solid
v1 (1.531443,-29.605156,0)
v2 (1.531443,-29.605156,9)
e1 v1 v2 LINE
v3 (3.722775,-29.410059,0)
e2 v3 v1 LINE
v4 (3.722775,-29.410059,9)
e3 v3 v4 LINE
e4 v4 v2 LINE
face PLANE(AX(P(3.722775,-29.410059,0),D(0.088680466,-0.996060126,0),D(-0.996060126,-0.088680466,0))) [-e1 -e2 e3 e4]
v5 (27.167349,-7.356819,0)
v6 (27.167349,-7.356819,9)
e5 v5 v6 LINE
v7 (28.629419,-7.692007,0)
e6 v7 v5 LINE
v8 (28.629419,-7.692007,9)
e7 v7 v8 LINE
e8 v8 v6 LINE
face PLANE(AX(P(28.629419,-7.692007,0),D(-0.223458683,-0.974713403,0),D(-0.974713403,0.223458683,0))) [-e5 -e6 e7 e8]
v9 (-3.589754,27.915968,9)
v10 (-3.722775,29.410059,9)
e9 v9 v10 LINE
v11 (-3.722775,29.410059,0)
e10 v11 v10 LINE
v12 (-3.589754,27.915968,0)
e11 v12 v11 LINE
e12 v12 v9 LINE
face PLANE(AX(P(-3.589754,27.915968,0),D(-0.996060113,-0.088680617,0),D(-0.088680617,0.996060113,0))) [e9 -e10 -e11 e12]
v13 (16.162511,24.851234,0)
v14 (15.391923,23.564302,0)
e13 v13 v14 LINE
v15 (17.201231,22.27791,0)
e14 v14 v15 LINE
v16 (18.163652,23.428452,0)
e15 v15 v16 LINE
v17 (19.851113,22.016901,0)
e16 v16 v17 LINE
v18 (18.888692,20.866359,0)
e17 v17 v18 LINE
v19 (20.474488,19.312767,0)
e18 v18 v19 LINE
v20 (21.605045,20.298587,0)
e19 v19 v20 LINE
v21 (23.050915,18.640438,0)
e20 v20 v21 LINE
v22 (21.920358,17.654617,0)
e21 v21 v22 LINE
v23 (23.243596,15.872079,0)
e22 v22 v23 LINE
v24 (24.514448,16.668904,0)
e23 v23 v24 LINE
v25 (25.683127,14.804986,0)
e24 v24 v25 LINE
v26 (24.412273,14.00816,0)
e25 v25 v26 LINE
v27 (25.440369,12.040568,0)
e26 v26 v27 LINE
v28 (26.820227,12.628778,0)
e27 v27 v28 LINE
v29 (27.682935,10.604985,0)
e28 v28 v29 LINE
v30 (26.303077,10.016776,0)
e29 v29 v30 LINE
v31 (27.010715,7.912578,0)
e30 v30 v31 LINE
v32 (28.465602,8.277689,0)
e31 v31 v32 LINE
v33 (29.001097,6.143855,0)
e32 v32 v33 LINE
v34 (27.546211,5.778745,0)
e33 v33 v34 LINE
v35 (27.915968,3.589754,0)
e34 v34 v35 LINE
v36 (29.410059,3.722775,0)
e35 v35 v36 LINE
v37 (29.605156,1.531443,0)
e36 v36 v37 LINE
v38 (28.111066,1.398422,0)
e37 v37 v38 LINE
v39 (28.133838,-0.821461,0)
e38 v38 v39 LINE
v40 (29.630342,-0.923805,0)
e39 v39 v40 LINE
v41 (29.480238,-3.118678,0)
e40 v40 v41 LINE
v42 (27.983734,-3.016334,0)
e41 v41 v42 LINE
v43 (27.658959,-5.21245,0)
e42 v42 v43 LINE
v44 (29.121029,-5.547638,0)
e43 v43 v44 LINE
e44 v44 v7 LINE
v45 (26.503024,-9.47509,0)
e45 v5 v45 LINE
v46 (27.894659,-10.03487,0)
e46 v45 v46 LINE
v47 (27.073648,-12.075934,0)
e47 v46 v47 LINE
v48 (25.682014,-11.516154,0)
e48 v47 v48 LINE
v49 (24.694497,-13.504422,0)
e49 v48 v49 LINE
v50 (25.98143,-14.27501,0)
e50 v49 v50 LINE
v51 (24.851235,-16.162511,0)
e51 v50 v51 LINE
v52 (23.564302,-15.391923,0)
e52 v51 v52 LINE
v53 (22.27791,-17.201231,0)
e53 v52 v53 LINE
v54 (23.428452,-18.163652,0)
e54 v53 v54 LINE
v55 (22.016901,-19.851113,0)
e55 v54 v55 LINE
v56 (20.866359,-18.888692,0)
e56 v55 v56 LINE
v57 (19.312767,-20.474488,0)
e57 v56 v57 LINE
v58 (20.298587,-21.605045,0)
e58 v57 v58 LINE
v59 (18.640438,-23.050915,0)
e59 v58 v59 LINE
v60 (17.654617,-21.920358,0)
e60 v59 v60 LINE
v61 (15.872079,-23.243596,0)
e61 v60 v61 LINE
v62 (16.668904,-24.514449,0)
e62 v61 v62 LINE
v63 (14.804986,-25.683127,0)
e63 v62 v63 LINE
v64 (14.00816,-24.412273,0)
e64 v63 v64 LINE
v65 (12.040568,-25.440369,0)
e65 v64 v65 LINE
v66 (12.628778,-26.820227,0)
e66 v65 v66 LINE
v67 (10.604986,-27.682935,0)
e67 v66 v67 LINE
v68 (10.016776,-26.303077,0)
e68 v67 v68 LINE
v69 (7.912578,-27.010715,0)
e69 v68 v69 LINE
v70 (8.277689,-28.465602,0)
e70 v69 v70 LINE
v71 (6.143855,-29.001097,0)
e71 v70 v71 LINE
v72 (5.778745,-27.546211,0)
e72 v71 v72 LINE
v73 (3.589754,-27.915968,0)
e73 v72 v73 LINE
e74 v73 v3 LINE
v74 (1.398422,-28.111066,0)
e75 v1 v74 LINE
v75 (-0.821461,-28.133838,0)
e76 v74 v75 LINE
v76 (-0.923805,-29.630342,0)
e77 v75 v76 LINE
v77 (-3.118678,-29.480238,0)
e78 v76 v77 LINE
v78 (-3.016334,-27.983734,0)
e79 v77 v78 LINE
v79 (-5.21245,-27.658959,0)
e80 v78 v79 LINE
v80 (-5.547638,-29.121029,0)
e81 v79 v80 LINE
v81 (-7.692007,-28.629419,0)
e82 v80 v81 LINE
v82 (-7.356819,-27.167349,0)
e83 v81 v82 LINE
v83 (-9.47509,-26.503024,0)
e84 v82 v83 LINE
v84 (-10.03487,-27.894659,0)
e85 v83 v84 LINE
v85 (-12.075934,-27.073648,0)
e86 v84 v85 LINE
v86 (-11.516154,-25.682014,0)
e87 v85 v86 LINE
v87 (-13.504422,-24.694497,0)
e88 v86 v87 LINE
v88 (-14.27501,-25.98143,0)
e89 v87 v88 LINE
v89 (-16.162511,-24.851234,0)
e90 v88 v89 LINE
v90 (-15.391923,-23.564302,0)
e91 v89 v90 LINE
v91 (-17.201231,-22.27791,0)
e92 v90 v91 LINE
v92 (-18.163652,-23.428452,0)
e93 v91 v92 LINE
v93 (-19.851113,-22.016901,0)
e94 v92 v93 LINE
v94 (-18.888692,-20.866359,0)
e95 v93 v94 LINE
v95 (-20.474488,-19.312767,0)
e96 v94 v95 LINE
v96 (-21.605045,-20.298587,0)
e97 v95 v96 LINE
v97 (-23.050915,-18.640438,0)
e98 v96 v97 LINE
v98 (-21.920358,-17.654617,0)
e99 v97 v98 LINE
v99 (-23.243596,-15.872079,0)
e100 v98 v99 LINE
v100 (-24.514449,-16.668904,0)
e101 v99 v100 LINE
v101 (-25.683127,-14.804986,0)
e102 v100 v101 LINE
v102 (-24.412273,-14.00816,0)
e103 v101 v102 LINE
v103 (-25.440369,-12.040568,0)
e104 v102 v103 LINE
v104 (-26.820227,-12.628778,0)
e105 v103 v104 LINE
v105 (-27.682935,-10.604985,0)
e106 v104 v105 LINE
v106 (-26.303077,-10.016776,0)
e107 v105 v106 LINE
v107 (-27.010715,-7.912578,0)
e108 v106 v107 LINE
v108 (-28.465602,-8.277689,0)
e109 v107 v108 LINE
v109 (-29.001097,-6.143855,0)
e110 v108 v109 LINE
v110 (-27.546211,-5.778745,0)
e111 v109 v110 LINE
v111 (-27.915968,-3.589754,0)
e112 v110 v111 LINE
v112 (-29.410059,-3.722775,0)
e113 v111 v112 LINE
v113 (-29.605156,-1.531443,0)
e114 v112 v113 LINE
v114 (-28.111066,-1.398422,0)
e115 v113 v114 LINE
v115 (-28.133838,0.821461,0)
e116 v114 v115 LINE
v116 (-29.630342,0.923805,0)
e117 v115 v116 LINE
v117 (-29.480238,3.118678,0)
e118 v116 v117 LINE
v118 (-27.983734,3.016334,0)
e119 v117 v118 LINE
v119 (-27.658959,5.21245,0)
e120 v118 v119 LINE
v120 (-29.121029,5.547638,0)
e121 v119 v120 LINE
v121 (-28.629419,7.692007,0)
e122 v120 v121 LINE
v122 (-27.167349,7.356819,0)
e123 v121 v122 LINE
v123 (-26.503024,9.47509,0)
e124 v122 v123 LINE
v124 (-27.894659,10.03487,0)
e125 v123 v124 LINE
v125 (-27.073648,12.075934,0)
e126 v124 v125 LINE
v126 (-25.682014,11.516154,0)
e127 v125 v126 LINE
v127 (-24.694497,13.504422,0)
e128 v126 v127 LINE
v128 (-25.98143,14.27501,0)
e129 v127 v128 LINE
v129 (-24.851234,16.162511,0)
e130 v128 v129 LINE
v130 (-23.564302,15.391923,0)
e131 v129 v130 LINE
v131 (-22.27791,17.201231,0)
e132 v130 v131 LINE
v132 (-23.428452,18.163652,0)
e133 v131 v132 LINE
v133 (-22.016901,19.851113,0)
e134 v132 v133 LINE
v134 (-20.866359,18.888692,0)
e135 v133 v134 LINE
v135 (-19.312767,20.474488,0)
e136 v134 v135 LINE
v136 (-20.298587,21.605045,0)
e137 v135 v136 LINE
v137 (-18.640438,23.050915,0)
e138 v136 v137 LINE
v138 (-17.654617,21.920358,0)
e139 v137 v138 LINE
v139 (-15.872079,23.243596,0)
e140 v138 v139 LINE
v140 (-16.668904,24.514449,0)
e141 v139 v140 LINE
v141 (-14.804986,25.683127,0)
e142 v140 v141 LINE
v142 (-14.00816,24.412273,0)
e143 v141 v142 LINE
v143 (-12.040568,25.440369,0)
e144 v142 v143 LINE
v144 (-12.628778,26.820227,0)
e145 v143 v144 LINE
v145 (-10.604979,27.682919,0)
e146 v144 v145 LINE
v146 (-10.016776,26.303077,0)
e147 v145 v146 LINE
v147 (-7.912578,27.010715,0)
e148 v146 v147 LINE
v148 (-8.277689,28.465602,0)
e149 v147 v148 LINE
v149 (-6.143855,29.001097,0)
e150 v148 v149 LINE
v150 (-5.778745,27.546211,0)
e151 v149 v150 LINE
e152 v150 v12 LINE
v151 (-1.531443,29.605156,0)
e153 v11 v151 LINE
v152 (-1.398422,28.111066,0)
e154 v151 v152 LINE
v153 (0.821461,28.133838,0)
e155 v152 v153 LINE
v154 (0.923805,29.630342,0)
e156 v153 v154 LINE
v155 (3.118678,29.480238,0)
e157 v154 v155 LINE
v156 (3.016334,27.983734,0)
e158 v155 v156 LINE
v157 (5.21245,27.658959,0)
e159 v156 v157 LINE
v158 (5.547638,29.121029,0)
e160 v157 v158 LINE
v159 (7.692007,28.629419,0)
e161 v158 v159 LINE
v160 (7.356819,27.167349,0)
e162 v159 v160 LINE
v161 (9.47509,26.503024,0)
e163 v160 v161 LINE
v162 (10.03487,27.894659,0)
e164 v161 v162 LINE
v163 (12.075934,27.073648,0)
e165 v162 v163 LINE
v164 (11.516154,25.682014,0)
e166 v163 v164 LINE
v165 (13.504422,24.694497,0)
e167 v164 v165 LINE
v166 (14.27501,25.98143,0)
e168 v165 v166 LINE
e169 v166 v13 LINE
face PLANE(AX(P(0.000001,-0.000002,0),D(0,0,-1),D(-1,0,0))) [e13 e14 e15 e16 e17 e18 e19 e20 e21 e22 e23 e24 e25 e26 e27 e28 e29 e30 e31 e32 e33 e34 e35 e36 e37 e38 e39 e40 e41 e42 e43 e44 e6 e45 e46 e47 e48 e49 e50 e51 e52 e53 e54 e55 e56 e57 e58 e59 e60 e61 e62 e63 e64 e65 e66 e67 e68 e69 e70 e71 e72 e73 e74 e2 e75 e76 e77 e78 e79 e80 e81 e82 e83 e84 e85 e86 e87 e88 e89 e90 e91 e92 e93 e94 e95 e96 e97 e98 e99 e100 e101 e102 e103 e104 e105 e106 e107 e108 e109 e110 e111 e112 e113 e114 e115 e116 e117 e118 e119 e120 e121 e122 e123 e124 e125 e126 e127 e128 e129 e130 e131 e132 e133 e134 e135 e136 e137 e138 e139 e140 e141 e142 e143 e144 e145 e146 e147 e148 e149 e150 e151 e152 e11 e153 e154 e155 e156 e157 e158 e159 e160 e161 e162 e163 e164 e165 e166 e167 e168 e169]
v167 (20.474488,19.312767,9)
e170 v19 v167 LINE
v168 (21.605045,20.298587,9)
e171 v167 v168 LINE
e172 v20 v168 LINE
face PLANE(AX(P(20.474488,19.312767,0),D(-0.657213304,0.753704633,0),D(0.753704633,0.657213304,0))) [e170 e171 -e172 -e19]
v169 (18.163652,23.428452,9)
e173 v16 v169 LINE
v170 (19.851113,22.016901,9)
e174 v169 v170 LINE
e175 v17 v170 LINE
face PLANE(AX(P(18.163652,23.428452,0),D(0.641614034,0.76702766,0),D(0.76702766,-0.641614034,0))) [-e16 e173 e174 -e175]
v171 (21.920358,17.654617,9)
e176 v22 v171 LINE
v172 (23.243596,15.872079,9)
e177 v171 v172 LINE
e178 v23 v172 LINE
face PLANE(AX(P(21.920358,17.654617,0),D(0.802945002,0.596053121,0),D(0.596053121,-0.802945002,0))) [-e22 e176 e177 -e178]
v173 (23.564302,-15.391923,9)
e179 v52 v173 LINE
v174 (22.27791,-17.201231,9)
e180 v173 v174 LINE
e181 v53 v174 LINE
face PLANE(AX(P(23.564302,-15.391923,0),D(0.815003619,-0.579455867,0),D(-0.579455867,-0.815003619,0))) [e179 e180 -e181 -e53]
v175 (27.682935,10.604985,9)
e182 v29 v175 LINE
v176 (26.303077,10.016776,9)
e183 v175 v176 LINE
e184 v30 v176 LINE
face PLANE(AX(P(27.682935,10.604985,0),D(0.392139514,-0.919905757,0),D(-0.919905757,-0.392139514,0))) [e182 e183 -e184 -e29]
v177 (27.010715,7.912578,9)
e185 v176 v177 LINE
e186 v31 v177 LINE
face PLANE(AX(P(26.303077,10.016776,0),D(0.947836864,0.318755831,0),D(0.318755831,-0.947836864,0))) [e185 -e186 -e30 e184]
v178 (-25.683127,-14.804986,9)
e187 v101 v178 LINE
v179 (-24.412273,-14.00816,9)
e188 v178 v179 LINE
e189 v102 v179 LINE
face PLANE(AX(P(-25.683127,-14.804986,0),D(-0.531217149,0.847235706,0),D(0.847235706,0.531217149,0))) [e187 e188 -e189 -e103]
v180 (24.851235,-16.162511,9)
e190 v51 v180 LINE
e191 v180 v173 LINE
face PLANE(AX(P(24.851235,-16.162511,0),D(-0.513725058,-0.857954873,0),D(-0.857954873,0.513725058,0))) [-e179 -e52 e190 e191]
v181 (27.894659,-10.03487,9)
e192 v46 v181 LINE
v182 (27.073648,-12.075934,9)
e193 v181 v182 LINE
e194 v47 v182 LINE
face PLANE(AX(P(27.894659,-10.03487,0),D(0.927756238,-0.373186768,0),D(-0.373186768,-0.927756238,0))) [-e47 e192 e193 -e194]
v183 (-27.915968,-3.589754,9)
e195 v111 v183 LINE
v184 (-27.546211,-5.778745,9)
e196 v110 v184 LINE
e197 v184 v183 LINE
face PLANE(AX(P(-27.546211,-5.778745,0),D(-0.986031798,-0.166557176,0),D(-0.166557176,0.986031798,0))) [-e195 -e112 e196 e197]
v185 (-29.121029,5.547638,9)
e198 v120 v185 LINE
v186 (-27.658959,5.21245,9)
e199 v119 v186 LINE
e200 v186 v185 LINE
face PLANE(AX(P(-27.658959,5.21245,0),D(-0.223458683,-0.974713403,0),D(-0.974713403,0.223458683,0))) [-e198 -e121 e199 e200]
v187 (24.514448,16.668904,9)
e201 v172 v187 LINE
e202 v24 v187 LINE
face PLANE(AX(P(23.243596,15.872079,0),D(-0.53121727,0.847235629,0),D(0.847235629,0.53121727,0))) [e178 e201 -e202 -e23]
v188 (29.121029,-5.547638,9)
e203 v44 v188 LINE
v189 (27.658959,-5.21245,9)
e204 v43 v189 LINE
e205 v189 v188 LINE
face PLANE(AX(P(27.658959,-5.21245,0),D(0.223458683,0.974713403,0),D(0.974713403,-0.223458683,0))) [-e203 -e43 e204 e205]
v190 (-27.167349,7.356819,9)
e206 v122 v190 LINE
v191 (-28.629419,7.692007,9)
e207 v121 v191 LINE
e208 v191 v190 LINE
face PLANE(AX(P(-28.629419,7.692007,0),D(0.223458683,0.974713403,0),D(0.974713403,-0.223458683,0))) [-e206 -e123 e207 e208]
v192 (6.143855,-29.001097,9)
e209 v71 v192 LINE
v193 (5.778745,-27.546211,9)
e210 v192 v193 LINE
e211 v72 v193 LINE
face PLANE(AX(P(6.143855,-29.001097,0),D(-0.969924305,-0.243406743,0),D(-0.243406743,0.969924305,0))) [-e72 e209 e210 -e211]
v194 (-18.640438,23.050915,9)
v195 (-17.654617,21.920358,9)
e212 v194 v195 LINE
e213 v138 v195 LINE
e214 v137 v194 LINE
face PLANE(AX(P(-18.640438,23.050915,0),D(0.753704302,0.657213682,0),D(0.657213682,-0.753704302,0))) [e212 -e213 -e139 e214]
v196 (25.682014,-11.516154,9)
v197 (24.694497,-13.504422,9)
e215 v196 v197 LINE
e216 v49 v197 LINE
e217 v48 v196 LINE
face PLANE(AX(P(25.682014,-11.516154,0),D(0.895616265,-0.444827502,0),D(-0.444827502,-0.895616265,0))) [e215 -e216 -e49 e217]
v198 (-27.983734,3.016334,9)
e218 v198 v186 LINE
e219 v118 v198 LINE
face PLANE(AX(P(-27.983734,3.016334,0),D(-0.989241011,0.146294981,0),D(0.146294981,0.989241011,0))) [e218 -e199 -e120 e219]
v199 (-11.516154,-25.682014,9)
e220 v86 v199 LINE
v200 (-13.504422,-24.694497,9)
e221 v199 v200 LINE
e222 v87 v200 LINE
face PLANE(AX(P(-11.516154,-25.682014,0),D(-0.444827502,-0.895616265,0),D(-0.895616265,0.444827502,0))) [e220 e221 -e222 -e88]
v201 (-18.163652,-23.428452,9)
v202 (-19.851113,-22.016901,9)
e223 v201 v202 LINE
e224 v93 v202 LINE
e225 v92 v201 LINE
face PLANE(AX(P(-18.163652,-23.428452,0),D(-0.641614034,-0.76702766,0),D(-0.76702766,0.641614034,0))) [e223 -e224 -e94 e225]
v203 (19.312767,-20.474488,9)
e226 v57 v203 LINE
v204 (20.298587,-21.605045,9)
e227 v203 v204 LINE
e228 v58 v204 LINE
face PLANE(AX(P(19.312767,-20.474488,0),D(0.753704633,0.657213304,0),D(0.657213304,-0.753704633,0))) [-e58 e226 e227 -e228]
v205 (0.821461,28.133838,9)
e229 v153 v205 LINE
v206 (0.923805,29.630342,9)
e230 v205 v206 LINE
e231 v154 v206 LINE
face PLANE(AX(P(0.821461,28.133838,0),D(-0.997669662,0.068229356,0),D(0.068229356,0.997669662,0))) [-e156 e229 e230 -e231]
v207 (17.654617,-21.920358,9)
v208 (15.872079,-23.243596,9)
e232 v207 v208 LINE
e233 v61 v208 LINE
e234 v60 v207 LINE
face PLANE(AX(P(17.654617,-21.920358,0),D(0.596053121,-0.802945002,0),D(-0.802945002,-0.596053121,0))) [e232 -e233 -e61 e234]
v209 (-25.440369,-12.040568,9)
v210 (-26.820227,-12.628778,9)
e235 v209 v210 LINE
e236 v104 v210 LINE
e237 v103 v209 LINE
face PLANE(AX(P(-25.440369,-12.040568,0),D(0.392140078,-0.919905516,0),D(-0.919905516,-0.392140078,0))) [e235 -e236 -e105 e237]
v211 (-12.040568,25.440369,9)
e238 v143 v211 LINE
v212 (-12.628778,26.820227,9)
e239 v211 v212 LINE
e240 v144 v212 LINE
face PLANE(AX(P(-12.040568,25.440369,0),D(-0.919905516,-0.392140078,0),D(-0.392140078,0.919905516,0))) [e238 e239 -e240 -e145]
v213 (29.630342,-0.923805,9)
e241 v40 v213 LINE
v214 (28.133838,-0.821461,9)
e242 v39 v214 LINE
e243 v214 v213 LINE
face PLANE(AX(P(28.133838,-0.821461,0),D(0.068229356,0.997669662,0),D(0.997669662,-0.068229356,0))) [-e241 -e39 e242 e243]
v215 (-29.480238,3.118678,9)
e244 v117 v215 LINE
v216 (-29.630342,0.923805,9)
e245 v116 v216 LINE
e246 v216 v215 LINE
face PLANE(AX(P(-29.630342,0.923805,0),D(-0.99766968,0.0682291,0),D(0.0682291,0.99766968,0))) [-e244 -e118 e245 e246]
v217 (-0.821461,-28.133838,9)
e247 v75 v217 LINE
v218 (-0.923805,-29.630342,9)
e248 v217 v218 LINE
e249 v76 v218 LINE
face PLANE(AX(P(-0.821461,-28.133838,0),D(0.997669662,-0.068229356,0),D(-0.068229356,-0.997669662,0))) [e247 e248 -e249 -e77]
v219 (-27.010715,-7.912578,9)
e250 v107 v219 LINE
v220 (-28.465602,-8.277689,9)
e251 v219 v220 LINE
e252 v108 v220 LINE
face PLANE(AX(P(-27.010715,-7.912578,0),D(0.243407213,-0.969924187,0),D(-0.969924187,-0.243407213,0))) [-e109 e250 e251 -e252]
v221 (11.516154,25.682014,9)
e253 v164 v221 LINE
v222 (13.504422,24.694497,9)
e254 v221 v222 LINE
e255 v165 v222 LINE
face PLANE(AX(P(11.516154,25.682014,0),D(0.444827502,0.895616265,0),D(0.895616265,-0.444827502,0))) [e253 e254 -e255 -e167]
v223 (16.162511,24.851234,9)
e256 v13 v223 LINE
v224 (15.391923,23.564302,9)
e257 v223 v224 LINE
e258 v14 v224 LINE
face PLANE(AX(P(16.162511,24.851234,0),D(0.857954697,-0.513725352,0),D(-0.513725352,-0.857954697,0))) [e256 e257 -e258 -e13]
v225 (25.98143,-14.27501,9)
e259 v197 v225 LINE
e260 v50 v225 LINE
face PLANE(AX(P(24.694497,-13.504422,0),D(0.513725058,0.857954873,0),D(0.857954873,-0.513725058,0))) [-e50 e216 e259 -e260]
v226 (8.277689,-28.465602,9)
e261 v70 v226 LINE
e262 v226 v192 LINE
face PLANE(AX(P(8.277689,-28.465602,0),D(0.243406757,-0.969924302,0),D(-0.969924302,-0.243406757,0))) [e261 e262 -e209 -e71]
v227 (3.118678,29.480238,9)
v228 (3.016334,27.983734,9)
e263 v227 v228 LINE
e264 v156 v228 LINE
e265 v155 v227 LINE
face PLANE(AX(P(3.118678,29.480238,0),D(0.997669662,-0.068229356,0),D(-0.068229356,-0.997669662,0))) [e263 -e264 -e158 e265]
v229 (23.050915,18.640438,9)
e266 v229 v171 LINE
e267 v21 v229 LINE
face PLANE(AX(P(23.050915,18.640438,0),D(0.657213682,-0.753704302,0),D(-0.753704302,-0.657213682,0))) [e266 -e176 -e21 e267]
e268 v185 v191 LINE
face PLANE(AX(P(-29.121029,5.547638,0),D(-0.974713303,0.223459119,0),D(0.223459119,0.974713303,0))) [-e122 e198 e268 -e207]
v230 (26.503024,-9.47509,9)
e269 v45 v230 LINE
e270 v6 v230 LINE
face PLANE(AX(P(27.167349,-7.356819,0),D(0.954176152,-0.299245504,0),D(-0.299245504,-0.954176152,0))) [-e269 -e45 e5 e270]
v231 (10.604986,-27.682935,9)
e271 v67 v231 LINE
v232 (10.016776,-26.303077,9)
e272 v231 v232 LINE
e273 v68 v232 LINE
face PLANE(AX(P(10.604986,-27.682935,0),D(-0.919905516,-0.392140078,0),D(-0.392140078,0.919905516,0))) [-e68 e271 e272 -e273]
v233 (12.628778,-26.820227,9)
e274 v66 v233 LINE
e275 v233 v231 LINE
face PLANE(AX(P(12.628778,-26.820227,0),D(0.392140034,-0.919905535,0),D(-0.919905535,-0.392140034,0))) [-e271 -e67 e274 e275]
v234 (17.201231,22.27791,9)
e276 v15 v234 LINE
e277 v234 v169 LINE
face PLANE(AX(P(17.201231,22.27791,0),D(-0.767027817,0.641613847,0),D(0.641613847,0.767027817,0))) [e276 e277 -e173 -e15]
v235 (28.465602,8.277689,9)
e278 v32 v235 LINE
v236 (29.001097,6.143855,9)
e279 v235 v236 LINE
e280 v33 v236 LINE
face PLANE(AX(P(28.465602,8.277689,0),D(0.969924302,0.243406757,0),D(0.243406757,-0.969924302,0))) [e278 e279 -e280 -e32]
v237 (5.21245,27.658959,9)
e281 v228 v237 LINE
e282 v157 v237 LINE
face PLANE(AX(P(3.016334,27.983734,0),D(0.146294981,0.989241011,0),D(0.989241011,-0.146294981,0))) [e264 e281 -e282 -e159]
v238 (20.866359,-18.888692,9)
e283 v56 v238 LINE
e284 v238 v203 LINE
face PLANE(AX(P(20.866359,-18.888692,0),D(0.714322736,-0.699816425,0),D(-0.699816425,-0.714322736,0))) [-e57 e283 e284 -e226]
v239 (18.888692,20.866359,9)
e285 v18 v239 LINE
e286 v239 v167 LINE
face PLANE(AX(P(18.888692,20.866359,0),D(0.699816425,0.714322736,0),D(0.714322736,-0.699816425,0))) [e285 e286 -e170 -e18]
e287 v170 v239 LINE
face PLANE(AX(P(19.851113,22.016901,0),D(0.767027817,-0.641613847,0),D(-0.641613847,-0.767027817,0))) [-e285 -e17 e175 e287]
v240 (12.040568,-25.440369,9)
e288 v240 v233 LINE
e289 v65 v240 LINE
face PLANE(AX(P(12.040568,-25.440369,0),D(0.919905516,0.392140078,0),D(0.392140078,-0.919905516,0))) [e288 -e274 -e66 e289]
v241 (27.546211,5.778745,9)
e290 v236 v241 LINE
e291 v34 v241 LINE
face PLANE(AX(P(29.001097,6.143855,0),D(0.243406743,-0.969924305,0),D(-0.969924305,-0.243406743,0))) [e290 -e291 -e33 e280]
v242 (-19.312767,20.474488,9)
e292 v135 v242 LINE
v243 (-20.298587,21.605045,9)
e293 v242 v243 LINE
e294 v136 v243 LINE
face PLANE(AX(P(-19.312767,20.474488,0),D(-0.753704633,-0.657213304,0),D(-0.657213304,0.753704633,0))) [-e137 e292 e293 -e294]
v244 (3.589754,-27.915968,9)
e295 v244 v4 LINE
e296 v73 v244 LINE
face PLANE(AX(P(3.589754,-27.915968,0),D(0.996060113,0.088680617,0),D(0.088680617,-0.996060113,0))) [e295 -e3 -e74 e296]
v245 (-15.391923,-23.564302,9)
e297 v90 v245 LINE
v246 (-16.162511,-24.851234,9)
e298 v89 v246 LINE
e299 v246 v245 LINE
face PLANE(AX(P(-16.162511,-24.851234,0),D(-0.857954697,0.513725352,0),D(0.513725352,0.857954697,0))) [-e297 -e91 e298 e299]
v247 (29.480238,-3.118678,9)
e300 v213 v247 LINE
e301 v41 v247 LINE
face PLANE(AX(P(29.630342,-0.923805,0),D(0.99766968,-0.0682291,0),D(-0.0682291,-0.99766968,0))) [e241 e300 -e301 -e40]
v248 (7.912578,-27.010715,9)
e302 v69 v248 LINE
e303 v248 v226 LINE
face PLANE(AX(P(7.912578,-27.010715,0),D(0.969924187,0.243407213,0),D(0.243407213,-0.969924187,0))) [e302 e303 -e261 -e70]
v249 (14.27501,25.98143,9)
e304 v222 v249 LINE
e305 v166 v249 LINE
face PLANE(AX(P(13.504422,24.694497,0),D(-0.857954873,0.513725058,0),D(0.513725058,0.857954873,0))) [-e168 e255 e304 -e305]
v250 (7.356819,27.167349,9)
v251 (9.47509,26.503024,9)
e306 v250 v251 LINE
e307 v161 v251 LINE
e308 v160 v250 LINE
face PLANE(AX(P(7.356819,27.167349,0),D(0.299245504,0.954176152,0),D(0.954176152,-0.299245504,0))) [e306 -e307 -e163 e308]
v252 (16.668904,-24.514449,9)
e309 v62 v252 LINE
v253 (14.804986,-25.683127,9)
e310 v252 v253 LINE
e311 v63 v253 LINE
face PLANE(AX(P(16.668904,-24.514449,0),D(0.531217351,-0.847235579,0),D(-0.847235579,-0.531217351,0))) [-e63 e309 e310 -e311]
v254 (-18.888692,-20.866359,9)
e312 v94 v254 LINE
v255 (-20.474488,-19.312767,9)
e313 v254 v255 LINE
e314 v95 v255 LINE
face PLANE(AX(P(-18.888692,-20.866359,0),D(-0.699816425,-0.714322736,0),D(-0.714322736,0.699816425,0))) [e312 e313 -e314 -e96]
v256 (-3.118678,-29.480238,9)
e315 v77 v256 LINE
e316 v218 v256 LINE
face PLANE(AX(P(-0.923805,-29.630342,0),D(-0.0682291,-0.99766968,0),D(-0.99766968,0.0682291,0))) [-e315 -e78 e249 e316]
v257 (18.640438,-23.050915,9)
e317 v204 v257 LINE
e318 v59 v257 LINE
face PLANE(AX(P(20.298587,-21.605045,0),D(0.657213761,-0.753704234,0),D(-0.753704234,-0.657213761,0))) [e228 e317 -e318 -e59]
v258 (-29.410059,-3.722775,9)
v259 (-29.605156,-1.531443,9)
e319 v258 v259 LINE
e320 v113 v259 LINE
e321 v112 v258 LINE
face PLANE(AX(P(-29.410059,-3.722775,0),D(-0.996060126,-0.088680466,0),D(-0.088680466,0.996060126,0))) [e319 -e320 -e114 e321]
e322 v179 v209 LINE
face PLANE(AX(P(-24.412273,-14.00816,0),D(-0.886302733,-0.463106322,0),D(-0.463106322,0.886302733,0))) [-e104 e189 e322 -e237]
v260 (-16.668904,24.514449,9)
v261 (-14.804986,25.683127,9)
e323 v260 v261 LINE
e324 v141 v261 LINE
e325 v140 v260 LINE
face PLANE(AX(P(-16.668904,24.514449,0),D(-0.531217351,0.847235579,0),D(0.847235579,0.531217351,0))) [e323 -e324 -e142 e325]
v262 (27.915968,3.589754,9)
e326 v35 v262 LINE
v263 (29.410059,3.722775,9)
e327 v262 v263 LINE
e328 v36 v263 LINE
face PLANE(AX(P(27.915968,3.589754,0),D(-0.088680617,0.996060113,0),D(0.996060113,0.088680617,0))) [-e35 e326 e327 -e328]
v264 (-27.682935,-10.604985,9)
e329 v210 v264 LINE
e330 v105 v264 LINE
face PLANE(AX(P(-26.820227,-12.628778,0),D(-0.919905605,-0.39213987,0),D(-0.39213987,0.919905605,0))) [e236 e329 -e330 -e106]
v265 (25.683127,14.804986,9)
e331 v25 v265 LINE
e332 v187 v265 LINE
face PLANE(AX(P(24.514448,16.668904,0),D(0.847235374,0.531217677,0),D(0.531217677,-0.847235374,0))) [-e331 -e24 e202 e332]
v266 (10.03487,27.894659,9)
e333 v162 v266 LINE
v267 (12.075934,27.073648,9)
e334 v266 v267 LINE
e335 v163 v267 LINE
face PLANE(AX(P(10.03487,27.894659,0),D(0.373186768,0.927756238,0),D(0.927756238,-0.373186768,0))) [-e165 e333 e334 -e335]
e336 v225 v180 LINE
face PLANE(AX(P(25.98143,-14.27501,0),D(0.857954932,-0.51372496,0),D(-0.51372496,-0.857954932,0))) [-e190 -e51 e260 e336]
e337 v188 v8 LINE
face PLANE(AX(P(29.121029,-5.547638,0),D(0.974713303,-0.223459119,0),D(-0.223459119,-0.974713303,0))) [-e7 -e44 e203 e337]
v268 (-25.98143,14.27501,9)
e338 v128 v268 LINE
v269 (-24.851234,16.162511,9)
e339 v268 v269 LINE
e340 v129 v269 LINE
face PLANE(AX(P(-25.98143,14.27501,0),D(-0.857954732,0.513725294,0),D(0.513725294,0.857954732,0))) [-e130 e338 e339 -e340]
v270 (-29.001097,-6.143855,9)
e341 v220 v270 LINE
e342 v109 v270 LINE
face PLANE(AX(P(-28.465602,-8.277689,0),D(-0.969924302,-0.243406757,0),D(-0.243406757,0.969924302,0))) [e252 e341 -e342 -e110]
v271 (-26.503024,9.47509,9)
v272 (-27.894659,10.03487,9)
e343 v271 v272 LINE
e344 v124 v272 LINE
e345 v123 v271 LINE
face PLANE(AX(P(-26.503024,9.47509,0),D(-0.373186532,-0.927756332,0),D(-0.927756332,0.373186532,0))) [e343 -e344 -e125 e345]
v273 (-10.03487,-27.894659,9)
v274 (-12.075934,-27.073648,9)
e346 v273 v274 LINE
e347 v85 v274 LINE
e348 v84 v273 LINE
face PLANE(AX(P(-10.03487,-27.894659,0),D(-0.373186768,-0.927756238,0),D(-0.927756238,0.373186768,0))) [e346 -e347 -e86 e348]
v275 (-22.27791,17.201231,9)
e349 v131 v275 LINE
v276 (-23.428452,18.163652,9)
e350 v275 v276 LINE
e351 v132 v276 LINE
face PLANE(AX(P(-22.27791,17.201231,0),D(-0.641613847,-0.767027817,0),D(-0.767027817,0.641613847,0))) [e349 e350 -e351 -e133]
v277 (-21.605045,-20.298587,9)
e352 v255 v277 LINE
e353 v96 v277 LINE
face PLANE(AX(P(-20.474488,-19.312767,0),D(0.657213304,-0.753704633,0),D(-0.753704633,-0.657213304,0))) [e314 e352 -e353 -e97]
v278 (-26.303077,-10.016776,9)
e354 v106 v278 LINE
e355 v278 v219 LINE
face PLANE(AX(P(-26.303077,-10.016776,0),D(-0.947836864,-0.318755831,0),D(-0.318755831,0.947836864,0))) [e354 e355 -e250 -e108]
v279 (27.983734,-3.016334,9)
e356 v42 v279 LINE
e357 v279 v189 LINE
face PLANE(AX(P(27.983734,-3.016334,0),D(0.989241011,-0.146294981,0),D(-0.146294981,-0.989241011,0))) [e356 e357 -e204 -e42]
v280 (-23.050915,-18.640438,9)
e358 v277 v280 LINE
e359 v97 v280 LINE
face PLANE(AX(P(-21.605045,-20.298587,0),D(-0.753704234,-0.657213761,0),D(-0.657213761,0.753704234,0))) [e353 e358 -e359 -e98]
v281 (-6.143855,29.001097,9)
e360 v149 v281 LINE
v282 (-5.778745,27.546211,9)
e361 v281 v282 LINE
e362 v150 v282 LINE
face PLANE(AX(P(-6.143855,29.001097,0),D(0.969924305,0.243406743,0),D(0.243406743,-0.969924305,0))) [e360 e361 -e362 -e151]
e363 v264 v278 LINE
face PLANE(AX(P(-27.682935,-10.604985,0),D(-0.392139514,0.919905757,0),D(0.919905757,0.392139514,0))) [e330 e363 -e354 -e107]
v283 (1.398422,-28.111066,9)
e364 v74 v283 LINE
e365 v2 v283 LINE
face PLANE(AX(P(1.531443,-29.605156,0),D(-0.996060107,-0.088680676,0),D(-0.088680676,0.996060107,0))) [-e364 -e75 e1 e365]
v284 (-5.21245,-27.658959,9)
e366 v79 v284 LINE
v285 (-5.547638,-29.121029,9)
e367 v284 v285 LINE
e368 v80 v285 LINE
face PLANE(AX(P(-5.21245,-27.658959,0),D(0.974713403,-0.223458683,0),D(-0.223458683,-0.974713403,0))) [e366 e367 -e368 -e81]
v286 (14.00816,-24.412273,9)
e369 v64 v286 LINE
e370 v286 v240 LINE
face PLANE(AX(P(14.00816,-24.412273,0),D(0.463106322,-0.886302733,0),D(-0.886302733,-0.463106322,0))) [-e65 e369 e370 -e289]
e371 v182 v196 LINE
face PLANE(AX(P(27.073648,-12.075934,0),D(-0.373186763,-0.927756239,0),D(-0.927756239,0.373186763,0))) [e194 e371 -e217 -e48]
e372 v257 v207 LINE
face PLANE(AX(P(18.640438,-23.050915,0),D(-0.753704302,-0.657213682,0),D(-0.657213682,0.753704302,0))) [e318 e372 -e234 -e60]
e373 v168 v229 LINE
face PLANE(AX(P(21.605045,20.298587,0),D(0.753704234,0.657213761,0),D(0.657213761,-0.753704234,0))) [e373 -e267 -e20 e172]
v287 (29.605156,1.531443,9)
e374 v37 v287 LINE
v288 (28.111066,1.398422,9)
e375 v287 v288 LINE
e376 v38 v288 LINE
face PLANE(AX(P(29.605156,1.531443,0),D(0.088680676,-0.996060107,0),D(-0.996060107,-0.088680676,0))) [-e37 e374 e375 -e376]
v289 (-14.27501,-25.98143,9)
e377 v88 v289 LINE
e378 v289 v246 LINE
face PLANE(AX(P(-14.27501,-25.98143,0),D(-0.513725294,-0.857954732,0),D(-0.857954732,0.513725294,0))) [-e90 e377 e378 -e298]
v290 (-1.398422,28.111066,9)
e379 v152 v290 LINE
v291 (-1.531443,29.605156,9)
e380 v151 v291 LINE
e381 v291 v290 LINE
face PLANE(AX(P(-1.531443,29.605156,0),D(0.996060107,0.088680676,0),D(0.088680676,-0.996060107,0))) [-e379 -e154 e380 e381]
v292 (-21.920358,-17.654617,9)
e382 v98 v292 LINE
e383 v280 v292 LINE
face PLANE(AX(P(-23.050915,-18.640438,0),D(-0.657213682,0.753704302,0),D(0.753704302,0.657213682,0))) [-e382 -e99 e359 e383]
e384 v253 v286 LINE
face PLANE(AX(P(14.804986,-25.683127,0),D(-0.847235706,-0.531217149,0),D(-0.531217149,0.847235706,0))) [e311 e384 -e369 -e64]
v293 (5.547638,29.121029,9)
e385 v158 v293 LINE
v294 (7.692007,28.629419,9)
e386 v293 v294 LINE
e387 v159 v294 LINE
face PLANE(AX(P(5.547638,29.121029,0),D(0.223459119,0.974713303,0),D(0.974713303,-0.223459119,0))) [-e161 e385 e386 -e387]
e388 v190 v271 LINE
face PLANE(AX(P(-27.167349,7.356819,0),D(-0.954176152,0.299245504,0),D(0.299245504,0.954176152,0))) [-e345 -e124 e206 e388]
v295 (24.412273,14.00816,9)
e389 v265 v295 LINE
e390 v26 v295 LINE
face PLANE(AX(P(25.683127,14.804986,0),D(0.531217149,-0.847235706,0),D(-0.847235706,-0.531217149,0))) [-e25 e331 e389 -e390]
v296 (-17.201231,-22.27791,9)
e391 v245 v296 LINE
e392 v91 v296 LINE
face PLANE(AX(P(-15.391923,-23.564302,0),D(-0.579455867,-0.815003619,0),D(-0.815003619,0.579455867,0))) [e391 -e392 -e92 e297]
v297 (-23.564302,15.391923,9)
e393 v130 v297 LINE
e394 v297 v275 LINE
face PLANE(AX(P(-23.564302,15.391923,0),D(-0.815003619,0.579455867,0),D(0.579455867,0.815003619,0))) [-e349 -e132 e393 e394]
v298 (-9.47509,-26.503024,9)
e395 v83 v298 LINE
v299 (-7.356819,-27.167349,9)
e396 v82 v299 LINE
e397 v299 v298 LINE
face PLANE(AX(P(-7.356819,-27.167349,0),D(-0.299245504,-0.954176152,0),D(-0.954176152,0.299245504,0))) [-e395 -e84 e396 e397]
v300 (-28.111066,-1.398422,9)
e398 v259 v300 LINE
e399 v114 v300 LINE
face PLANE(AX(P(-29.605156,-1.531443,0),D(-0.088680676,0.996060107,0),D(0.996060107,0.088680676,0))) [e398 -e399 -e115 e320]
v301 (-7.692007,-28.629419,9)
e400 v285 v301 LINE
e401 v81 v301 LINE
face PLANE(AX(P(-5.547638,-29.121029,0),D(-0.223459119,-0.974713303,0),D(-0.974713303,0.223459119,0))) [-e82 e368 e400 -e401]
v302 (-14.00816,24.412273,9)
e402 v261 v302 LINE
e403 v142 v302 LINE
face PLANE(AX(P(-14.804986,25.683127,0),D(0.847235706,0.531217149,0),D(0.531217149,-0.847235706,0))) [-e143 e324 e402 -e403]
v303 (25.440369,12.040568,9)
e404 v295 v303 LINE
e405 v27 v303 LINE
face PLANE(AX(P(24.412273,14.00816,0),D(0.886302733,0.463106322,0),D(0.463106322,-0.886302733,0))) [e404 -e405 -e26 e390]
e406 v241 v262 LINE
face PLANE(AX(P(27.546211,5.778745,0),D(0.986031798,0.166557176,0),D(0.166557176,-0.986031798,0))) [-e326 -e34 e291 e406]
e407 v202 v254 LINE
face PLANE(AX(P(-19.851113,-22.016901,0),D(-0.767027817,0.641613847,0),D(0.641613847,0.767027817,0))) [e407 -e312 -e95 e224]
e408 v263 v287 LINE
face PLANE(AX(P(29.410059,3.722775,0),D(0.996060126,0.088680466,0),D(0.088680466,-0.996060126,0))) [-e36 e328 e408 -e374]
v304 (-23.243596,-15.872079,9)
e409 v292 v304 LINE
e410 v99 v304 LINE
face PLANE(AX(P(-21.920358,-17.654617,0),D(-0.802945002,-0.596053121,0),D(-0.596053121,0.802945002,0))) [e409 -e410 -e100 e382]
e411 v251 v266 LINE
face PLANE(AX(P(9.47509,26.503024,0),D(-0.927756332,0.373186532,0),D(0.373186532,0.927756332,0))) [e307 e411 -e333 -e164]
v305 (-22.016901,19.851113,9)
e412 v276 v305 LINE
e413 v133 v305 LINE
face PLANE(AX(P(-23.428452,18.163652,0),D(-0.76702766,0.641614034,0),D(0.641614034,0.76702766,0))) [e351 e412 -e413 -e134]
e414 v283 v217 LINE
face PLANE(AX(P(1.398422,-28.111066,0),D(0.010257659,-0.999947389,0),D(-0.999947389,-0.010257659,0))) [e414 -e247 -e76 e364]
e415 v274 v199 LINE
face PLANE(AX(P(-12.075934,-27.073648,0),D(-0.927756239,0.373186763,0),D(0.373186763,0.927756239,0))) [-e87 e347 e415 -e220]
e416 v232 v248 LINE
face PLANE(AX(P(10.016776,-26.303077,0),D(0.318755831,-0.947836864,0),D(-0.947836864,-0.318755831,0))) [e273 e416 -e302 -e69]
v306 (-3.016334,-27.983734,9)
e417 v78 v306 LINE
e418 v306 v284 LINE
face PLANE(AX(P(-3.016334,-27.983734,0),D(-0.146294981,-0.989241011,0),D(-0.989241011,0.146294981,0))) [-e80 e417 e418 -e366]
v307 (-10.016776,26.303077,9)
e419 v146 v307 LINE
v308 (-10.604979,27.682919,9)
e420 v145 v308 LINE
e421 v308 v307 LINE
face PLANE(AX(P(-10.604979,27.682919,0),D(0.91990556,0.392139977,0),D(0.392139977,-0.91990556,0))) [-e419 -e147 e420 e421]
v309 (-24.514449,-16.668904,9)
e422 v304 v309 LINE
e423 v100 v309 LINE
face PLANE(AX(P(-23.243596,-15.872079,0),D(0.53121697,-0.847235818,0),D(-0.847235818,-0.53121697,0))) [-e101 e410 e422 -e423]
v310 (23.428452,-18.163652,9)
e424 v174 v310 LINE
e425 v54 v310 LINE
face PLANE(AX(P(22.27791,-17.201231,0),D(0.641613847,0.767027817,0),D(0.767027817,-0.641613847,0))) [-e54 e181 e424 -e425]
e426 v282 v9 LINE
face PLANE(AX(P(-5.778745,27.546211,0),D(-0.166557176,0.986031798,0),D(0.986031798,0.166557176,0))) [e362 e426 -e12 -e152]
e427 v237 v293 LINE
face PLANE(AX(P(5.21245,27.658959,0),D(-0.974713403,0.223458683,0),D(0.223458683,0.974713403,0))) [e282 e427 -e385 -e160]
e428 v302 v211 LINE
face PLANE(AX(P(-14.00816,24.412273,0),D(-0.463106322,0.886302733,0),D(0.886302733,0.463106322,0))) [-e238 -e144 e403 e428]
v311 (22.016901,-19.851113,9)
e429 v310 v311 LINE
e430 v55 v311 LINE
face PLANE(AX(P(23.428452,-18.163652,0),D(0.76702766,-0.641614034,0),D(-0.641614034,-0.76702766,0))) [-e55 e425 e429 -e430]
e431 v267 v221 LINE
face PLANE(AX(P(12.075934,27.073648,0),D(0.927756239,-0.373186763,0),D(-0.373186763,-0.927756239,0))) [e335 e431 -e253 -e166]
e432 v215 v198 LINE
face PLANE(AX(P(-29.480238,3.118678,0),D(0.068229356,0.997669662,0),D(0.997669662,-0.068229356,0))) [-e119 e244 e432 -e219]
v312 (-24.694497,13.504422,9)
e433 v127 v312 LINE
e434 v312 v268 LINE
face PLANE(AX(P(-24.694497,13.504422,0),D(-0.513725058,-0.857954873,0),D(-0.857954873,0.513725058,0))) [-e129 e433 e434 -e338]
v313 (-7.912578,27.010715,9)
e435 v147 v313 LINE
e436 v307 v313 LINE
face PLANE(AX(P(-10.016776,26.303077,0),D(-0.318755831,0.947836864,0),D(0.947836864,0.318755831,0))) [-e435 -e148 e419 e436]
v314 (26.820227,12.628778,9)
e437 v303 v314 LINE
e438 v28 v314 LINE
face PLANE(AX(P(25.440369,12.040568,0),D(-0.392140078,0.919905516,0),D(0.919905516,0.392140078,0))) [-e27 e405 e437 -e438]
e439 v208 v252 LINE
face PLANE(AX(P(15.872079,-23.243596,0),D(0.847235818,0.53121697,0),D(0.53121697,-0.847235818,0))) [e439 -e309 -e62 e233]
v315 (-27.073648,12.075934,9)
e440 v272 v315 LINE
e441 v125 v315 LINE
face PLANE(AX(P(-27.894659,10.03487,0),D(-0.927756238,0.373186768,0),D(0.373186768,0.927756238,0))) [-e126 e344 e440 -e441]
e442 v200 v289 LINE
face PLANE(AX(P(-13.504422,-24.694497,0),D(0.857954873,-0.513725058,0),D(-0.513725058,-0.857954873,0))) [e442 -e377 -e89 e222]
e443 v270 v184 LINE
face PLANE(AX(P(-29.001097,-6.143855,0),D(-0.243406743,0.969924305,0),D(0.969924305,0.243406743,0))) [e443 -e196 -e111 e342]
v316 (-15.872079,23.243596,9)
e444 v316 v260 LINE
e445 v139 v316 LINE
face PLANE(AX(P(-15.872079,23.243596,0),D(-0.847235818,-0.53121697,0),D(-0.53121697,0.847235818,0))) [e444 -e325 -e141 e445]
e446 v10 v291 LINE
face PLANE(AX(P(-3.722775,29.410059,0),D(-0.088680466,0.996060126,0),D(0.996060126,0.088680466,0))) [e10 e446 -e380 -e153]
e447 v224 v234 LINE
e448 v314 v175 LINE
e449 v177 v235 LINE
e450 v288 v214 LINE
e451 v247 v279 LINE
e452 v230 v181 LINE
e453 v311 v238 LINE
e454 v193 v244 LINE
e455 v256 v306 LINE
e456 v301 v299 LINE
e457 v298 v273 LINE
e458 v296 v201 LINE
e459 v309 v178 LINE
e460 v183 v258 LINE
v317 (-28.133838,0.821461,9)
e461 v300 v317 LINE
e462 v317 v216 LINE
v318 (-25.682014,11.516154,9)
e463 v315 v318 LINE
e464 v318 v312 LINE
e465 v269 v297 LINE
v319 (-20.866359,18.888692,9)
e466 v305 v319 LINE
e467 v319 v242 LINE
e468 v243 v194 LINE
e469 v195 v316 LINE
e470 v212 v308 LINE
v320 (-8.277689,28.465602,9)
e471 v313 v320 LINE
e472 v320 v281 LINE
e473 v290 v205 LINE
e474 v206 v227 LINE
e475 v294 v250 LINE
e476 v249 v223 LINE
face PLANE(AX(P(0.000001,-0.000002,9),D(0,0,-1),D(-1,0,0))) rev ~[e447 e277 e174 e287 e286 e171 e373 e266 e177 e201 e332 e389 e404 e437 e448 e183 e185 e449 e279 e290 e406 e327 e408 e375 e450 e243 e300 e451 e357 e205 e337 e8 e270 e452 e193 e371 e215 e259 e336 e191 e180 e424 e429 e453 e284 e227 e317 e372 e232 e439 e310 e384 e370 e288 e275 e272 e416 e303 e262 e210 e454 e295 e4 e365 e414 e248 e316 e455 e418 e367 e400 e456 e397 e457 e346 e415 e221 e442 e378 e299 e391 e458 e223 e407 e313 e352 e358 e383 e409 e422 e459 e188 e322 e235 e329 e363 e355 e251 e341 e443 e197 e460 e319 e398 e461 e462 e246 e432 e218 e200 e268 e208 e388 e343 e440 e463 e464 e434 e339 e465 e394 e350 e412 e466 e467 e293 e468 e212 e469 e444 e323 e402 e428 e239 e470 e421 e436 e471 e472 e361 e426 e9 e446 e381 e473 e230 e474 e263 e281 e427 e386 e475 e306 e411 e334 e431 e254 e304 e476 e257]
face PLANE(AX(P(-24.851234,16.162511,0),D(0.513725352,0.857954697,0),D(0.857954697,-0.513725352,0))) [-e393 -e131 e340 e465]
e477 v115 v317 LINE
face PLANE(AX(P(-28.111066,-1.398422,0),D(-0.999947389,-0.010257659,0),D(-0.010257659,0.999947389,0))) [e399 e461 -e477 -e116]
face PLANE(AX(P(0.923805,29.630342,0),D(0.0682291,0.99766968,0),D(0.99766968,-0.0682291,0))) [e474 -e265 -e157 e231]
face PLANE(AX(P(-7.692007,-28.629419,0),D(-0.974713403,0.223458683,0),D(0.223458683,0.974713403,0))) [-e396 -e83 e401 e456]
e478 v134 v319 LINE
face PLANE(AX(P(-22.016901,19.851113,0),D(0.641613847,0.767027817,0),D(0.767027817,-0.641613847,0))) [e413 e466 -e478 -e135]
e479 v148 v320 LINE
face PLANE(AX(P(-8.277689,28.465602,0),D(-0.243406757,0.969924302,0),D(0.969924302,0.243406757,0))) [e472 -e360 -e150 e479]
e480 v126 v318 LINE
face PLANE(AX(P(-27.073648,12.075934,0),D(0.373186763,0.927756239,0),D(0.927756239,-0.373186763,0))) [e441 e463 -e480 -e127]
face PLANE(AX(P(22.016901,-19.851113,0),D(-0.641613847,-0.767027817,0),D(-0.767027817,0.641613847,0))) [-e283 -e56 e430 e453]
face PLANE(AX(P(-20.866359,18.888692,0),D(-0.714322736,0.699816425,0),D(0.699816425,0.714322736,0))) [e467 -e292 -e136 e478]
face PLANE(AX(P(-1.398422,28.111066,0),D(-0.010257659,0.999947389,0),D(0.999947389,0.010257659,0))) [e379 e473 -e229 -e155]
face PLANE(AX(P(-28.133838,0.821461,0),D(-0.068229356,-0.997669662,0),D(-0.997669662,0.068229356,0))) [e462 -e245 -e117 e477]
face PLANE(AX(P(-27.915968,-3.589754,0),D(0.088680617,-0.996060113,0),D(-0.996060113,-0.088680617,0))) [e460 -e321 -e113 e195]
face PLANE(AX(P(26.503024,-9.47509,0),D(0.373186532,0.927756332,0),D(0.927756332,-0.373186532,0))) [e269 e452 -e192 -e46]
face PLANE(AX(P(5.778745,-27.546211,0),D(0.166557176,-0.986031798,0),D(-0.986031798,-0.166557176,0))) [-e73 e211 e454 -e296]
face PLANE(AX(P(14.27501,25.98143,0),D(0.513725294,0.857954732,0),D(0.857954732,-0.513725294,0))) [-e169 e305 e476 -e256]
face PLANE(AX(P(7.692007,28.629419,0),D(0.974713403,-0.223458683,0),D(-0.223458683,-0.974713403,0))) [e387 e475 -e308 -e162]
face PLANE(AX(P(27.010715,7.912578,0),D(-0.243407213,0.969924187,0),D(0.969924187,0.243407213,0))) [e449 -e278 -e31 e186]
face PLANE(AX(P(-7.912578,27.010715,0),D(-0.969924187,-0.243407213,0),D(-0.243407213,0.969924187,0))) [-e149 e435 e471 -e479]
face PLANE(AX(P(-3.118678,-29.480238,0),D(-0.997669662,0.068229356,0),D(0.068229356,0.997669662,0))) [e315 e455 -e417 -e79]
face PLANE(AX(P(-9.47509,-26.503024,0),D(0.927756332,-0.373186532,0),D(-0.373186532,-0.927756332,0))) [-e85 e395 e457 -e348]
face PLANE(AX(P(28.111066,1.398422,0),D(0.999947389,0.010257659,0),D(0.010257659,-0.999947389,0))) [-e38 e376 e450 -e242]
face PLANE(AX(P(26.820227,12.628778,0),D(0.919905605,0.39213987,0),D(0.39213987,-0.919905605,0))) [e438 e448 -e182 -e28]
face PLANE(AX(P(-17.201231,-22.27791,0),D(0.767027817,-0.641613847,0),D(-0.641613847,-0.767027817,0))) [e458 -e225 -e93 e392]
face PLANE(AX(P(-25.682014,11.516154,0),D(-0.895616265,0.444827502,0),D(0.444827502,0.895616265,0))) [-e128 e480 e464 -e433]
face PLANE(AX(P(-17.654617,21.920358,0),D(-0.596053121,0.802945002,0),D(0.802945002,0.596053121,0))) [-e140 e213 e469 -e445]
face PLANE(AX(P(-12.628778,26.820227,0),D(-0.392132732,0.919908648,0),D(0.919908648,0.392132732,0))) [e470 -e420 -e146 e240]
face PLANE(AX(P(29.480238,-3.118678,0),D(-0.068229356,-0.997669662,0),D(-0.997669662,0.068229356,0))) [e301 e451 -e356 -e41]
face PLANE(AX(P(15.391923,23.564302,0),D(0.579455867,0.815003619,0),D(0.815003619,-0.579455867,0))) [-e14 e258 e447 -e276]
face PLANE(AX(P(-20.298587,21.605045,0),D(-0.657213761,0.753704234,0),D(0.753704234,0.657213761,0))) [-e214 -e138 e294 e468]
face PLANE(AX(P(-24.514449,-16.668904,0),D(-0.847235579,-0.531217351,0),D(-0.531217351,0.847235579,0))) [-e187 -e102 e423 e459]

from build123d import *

# Parameters (mm, degrees)
PAD_DEPTH = 9


with BuildPart() as part:
    # Sketch → Pad (new body)
    with BuildSketch(Plane.XY):
        Polygon((-26.503024, 9.47509), (-27.894659, 10.03487), (-27.073648, 12.075934), (-25.682014, 11.516154), (-24.694497, 13.504422), (-25.98143, 14.27501), (-24.851234, 16.162511), (-23.564302, 15.391923), (-22.27791, 17.201231), (-23.428452, 18.163652), (-22.016901, 19.851113), (-20.866359, 18.888692), (-19.312767, 20.474488), (-20.298587, 21.605045), (-18.640438, 23.050915), (-17.654617, 21.920358), (-15.872079, 23.243596), (-16.668904, 24.514449), (-14.804986, 25.683127), (-14.00816, 24.412273), (-12.040568, 25.440369), (-12.628778, 26.820227), (-10.604979, 27.682919), (-10.016776, 26.303077), (-7.912578, 27.010715), (-8.277689, 28.465602), (-6.143855, 29.001097), (-5.778745, 27.546211), (-3.589754, 27.915968), (-3.722775, 29.410059), (-1.531443, 29.605156), (-1.398422, 28.111066), (0.821461, 28.133838), (0.923805, 29.630342), (3.118678, 29.480238), (3.016334, 27.983734), (5.21245, 27.658959), (5.547638, 29.121029), (7.692007, 28.629419), (7.356819, 27.167349), (9.47509, 26.503024), (10.03487, 27.894659), (12.075934, 27.073648), (11.516154, 25.682014), (13.504422, 24.694497), (14.27501, 25.98143), (16.162511, 24.851234), (15.391923, 23.564302), (17.201231, 22.27791), (18.163652, 23.428452), (19.851113, 22.016901), (18.888692, 20.866359), (20.474488, 19.312767), (21.605045, 20.298587), (23.050915, 18.640438), (21.920358, 17.654617), (23.243596, 15.872079), (24.514448, 16.668904), (25.683127, 14.804986), (24.412273, 14.00816), (25.440369, 12.040568), (26.820227, 12.628778), (27.682935, 10.604985), (26.303077, 10.016776), (27.010715, 7.912578), (28.465602, 8.277689), (29.001097, 6.143855), (27.546211, 5.778745), (27.915968, 3.589754), (29.410059, 3.722775), (29.605156, 1.531443), (28.111066, 1.398422), (28.133838, -0.821461), (29.630342, -0.923805), (29.480238, -3.118678), (27.983734, -3.016334), (27.658959, -5.21245), (29.121029, -5.547638), (28.629419, -7.692007), (27.167349, -7.356819), (26.503024, -9.47509), (27.894659, -10.03487), (27.073648, -12.075934), (25.682014, -11.516154), (24.694497, -13.504422), (25.98143, -14.27501), (24.851235, -16.162511), (23.564302, -15.391923), (22.27791, -17.201231), (23.428452, -18.163652), (22.016901, -19.851113), (20.866359, -18.888692), (19.312767, -20.474488), (20.298587, -21.605045), (18.640438, -23.050915), (17.654617, -21.920358), (15.872079, -23.243596), (16.668904, -24.514449), (14.804986, -25.683127), (14.00816, -24.412273), (12.040568, -25.440369), (12.628778, -26.820227), (10.604986, -27.682935), (10.016776, -26.303077), (7.912578, -27.010715), (8.277689, -28.465602), (6.143855, -29.001097), (5.778745, -27.546211), (3.589754, -27.915968), (3.722775, -29.410059), (1.531443, -29.605156), (1.398422, -28.111066), (-0.821461, -28.133838), (-0.923805, -29.630342), (-3.118678, -29.480238), (-3.016334, -27.983734), (-5.21245, -27.658959), (-5.547638, -29.121029), (-7.692007, -28.629419), (-7.356819, -27.167349), (-9.47509, -26.503024), (-10.03487, -27.894659), (-12.075934, -27.073648), (-11.516154, -25.682014), (-13.504422, -24.694497), (-14.27501, -25.98143), (-16.162511, -24.851234), (-15.391923, -23.564302), (-17.201231, -22.27791), (-18.163652, -23.428452), (-19.851113, -22.016901), (-18.888692, -20.866359), (-20.474488, -19.312767), (-21.605045, -20.298587), (-23.050915, -18.640438), (-21.920358, -17.654617), (-23.243596, -15.872079), (-24.514449, -16.668904), (-25.683127, -14.804986), (-24.412273, -14.00816), (-25.440369, -12.040568), (-26.820227, -12.628778), (-27.682935, -10.604985), (-26.303077, -10.016776), (-27.010715, -7.912578), (-28.465602, -8.277689), (-29.001097, -6.143855), (-27.546211, -5.778745), (-27.915968, -3.589754), (-29.410059, -3.722775), (-29.605156, -1.531443), (-28.111066, -1.398422), (-28.133838, 0.821461), (-29.630342, 0.923805), (-29.480238, 3.118678), (-27.983734, 3.016334), (-27.658959, 5.21245), (-29.121029, 5.547638), (-28.629419, 7.692007), (-27.167349, 7.356819), align=None)
    extrude(amount=PAD_DEPTH)


solid = part.part
